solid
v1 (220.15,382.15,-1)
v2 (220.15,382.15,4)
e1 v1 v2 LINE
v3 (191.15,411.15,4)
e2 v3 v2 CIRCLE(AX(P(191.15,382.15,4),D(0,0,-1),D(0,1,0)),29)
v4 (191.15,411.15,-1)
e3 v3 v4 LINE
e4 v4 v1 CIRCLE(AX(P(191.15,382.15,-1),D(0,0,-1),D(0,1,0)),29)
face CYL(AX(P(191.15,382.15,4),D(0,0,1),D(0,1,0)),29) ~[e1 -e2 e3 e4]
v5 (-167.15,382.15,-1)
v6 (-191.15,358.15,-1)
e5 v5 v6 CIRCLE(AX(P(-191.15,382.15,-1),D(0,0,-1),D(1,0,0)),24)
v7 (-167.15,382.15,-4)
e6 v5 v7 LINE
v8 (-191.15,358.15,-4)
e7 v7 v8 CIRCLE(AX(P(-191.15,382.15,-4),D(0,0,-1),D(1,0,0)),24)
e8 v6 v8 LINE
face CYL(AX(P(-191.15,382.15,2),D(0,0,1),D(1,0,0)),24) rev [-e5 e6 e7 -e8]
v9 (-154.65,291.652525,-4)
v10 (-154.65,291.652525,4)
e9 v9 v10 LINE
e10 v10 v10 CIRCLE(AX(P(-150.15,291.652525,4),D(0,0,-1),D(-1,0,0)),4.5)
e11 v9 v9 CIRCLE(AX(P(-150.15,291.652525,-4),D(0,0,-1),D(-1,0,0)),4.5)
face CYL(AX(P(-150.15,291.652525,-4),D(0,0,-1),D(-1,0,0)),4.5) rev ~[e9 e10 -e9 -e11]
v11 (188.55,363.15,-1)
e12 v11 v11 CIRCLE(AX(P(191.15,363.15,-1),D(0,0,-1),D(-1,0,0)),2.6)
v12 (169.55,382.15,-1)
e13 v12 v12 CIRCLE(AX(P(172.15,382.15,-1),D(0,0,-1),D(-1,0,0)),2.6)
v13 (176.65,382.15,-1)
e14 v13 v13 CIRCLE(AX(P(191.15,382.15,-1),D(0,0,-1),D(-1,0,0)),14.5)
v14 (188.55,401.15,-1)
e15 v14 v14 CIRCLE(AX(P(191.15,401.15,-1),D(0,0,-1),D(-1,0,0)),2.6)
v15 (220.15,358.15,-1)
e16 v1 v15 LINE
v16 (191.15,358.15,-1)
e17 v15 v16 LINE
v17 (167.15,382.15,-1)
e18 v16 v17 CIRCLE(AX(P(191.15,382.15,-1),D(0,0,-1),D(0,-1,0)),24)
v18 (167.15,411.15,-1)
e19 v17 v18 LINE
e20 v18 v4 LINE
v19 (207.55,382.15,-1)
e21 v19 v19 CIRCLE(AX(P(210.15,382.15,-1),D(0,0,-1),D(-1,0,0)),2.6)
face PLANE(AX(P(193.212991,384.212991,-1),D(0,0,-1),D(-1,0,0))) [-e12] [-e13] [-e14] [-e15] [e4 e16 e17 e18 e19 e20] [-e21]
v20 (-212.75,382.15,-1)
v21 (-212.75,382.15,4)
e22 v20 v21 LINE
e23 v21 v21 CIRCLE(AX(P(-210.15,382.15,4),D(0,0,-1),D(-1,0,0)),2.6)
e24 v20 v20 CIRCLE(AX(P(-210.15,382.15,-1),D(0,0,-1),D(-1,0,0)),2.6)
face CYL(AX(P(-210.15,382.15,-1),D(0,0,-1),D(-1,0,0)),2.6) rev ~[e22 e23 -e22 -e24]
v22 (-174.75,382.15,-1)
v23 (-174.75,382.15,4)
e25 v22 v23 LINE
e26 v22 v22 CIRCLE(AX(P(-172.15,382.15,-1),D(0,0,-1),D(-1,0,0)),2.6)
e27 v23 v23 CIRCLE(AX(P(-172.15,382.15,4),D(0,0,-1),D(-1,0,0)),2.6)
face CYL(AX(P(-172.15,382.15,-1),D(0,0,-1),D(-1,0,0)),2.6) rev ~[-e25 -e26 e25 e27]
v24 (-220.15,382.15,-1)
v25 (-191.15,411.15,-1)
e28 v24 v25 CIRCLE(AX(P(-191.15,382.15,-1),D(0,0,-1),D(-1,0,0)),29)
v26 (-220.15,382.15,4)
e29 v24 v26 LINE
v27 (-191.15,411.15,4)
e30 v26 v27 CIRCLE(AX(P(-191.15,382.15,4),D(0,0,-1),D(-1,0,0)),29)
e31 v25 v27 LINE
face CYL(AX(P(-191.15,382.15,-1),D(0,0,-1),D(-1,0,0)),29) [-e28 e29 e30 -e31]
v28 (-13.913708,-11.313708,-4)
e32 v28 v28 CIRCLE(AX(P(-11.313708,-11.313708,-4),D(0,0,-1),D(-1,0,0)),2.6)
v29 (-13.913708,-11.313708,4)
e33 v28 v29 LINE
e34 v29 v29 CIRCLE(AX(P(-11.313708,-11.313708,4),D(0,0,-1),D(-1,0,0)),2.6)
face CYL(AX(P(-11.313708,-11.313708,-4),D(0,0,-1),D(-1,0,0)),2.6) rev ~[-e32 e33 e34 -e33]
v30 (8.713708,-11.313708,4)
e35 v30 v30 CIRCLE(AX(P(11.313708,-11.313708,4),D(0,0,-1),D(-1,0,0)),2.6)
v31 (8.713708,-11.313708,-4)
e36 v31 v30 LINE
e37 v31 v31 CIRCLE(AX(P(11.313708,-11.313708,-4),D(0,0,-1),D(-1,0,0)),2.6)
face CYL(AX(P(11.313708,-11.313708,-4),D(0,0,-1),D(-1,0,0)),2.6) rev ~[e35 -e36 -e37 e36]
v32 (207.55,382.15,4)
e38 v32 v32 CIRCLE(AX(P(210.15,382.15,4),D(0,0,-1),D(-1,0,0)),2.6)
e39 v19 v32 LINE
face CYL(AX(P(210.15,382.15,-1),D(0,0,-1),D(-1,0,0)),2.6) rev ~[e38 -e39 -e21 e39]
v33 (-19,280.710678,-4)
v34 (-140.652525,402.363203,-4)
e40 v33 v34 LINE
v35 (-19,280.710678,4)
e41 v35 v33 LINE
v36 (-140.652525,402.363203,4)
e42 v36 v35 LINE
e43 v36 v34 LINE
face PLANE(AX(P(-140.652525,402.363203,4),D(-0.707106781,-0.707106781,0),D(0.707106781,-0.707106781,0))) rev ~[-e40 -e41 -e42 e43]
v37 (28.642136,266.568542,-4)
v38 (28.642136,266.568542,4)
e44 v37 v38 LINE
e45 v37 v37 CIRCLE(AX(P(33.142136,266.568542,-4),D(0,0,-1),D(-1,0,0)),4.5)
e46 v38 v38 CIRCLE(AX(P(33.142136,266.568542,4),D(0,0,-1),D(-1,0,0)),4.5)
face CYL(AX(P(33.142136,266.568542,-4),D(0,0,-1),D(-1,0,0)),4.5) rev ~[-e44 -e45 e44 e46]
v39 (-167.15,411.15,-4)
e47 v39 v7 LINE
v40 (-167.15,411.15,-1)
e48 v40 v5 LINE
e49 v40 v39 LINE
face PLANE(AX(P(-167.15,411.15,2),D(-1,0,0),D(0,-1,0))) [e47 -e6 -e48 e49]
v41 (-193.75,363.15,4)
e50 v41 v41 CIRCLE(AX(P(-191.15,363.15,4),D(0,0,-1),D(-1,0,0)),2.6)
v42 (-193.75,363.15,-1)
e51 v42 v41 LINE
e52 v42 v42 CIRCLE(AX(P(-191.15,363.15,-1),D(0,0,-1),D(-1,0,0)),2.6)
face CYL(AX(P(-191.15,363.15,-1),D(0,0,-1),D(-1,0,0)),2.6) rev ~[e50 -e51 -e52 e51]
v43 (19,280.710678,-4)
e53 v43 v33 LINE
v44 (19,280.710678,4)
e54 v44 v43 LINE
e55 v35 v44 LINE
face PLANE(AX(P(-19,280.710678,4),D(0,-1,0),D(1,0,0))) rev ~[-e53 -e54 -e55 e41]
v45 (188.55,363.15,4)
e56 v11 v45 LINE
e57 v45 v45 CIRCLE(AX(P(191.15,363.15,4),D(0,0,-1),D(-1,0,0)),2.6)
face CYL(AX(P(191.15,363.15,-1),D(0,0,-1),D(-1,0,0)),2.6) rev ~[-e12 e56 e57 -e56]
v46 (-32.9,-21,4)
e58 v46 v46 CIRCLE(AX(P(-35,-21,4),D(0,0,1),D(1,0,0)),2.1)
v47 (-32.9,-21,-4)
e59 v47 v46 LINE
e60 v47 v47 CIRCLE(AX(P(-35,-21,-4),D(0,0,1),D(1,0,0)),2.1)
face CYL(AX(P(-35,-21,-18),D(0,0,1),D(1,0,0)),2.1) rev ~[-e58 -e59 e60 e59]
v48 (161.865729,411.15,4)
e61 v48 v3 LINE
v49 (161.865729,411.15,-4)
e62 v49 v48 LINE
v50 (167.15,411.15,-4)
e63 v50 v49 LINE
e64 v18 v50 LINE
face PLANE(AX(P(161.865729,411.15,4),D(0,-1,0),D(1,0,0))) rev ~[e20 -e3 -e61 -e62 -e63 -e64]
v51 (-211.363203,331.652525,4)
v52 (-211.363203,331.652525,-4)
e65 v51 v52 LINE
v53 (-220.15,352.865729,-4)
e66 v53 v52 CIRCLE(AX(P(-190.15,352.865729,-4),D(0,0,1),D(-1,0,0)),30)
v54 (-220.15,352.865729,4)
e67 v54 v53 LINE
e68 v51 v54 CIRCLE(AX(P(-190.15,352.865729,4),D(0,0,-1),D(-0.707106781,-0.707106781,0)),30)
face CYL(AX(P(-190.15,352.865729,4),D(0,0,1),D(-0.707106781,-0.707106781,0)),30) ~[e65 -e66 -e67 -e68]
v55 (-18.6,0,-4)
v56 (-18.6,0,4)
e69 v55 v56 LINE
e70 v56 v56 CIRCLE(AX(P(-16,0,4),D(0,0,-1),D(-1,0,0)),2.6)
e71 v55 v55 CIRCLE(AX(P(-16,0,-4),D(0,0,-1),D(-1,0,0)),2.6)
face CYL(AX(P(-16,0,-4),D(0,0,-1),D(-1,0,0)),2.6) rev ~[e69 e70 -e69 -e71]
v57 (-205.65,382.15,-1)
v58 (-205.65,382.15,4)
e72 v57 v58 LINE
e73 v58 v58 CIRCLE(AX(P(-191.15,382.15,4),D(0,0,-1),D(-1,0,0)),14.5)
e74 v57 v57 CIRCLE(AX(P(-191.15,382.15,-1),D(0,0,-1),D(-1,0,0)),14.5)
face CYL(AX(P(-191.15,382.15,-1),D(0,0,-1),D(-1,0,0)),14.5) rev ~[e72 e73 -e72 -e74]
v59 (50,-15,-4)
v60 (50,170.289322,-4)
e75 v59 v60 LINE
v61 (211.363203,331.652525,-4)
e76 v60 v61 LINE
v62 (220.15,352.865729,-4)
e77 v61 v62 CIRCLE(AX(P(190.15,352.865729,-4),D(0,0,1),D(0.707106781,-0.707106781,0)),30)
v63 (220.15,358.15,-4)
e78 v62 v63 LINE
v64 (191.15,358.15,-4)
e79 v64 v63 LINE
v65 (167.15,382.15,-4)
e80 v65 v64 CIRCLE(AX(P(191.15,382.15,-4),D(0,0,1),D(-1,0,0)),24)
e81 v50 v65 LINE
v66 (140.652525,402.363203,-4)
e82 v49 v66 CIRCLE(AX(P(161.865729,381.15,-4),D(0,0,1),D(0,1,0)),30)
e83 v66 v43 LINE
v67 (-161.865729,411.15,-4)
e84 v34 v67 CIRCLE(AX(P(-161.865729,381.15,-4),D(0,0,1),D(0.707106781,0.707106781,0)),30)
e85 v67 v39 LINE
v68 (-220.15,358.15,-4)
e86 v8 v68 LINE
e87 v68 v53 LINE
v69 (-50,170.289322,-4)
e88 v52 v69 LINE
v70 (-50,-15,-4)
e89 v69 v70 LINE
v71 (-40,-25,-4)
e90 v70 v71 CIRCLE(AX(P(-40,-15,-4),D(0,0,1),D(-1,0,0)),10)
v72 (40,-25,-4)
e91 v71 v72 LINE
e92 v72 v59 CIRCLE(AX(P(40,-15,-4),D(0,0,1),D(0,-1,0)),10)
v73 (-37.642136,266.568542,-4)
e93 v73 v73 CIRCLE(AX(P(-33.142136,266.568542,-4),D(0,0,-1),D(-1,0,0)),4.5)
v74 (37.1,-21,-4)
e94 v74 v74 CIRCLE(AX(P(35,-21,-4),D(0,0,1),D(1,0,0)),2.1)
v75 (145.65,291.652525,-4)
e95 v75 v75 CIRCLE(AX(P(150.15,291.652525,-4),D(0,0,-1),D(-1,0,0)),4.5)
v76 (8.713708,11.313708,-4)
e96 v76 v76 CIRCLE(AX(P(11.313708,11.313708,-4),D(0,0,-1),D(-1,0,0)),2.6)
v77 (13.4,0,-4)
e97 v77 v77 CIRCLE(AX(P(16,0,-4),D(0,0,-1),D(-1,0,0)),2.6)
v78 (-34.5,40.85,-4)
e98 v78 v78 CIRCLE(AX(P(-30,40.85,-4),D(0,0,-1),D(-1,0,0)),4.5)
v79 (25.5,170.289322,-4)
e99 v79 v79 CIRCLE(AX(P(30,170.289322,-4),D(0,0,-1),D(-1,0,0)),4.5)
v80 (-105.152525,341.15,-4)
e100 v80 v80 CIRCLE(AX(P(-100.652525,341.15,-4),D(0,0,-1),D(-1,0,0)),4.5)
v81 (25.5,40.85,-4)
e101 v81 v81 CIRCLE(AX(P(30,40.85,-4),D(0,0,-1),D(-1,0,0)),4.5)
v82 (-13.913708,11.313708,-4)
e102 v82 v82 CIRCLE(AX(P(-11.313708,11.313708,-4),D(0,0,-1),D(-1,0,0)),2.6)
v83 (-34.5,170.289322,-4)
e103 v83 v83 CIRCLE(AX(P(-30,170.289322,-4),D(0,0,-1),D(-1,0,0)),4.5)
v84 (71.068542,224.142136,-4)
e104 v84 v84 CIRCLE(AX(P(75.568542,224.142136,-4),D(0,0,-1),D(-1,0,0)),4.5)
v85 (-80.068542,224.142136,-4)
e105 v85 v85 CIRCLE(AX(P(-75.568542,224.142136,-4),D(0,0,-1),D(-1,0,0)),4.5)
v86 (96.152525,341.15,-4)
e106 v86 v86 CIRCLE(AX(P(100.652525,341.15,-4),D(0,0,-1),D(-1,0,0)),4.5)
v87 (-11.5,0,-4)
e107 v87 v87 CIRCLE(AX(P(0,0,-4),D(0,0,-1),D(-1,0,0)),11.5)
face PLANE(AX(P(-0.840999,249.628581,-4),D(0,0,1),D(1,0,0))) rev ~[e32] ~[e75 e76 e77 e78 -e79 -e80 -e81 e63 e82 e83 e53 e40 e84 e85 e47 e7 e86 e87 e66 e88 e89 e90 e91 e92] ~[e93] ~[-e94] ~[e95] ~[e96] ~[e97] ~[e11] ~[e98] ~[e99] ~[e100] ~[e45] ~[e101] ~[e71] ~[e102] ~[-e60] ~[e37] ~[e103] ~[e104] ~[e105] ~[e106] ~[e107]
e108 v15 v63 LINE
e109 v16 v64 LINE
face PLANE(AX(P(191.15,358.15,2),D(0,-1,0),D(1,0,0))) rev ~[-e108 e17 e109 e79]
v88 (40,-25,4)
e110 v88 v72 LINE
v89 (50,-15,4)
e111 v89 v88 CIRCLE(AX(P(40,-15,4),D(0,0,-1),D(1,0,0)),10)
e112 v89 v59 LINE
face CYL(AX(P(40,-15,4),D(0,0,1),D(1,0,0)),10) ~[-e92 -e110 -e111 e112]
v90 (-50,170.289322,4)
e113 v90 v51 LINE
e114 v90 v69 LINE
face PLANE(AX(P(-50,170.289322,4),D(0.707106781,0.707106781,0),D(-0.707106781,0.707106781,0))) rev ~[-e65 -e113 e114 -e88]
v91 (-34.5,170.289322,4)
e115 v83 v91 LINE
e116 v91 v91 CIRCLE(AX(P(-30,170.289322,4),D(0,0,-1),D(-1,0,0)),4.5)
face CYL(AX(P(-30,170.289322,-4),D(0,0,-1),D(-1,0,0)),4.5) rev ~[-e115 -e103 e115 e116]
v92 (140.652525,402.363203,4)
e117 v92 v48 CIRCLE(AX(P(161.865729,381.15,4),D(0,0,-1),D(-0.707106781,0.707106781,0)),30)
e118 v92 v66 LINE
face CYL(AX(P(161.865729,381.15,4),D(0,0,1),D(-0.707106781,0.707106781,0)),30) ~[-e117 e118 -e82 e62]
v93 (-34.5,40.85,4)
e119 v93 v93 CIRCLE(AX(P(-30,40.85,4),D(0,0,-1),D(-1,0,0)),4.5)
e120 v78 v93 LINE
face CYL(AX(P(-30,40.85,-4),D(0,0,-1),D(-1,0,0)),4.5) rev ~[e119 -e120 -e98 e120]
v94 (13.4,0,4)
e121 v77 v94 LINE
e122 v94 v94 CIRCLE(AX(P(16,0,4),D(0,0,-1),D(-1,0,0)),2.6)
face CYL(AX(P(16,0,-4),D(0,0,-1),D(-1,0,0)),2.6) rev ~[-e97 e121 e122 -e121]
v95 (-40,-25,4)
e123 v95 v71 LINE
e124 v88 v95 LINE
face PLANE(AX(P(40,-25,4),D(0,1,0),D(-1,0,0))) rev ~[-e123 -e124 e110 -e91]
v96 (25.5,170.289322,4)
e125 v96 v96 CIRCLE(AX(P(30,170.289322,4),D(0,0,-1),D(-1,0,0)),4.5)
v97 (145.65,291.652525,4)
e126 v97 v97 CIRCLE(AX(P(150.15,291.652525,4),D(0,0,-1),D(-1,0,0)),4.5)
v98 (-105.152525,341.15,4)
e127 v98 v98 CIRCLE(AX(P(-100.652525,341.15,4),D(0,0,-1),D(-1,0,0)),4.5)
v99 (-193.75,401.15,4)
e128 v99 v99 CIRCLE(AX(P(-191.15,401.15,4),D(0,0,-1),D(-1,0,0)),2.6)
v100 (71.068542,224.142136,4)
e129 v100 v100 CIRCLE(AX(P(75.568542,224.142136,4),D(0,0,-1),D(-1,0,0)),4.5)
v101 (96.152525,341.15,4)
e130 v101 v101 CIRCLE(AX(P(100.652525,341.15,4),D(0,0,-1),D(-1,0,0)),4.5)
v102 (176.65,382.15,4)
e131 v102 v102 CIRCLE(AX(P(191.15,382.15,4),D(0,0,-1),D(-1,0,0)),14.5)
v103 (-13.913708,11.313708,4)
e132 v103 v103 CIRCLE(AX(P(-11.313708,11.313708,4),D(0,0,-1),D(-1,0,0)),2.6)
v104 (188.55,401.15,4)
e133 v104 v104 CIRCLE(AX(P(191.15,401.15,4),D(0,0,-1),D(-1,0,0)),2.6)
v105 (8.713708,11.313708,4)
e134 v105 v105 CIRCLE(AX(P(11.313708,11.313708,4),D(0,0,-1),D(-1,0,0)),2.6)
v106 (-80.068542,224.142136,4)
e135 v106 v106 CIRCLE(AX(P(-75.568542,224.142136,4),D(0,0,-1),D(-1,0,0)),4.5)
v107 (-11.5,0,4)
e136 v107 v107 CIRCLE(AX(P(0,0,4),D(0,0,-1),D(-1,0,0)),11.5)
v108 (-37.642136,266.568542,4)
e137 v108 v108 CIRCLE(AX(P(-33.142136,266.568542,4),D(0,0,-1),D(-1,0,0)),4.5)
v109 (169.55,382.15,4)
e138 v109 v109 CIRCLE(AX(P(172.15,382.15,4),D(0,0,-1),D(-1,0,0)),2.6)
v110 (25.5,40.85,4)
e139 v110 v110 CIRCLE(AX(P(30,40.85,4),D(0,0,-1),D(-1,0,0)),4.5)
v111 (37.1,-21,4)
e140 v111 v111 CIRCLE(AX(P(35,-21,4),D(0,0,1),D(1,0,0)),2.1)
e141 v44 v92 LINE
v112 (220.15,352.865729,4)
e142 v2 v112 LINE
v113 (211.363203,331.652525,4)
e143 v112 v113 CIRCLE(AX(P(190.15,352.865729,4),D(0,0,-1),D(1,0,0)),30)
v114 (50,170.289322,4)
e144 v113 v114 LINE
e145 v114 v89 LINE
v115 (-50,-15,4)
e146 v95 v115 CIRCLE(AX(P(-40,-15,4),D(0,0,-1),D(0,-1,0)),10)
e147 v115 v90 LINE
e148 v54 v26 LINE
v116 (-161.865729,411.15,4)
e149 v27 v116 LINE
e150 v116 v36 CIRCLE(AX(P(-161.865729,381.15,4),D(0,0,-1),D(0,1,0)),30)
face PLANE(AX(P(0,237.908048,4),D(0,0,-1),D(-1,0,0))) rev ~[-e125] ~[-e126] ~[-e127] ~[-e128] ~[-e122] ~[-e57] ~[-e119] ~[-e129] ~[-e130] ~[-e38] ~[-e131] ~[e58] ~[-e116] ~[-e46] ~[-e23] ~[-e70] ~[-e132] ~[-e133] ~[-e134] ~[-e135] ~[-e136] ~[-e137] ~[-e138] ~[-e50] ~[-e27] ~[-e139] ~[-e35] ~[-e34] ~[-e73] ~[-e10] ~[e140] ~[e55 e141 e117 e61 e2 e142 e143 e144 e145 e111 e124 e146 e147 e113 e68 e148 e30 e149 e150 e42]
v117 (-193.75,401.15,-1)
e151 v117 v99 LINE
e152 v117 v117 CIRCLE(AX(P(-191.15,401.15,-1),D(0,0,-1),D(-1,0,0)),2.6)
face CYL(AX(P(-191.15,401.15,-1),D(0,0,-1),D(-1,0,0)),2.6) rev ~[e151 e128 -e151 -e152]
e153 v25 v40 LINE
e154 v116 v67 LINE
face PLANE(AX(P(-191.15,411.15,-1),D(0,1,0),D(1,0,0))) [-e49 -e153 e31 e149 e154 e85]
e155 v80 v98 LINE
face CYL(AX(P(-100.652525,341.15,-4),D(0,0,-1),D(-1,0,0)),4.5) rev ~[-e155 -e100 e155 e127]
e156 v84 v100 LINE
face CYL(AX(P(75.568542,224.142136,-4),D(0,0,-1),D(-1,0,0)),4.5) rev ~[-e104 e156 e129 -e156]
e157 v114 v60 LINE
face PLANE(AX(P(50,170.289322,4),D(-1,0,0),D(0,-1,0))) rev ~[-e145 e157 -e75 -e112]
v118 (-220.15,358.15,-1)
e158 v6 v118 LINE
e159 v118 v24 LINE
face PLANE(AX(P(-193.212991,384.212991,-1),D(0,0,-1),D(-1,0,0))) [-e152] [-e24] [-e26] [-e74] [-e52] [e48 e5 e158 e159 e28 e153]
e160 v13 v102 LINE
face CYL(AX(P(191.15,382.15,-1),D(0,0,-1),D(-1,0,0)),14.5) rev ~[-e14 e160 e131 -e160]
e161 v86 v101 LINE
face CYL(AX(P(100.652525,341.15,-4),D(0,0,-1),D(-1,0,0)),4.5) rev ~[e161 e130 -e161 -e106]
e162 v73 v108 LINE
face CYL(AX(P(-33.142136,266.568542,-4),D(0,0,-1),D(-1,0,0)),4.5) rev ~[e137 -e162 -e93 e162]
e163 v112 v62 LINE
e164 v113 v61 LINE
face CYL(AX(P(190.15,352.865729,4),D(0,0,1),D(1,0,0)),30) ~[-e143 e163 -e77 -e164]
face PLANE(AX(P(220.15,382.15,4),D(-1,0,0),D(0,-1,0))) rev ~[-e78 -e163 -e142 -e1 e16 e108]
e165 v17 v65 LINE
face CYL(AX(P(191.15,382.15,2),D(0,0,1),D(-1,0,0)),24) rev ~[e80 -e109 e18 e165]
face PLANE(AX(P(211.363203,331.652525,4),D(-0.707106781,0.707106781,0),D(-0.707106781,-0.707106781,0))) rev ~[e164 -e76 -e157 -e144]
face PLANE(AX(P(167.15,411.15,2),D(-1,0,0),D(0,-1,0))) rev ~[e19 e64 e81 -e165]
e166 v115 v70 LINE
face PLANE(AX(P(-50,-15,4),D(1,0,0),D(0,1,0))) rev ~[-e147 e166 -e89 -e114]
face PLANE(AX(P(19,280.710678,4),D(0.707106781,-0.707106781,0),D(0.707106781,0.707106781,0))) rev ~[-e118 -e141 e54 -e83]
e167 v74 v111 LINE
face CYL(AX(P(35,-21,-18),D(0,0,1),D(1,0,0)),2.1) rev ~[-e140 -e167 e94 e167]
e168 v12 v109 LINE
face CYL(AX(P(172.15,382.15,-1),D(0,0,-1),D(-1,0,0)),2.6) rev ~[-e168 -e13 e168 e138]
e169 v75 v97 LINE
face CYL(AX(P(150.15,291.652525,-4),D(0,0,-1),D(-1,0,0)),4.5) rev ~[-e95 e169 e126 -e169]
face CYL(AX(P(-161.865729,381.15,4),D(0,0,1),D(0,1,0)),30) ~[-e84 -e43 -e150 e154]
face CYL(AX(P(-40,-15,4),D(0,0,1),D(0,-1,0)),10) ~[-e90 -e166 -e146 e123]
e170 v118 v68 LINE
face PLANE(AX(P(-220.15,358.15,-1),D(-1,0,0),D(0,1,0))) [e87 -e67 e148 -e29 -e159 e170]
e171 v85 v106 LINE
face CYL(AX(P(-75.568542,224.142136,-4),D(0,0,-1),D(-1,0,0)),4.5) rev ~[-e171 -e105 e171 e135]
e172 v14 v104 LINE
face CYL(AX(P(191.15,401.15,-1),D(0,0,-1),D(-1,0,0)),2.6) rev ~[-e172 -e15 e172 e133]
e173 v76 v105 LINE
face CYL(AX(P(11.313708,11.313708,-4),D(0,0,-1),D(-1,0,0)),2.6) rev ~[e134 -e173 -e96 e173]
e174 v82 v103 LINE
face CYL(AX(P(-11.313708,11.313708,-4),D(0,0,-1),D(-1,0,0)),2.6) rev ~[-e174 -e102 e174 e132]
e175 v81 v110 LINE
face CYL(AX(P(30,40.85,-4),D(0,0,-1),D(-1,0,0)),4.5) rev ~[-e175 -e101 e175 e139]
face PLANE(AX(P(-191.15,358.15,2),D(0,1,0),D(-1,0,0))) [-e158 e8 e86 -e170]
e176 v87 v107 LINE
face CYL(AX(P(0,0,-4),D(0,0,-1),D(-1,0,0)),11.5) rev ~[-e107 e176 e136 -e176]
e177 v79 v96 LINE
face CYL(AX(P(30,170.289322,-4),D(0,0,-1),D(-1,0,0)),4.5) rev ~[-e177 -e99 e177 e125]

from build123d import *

# Parameters (mm, degrees)
ESQUISSE1_R               = 29
BOSS_EXTRU_1_DEPTH        = 4
ENL_V_START               = -6
ENL_V_MAT_EXTRU_1_DEPTH   = 6
BOSS_EXTRU_3_START        = 4
BOSS_EXTRU_3_DEPTH        = 4
ESQUISSE8_R               = 11
ESQUISSE8_R_2             = 14
ENL_V_MAT_EXTRU_2_DEPTH   = 12
ESQUISSE9_R               = 2.5
ENL_V_MAT_EXTRU_3_DEPTH   = 20
ESQUISSE10_R              = 2.5
ENL_V_MAT_EXTRU_4_DEPTH   = 12
ESQUISSE11_R              = 4.5
ENL_V_MAT_EXTRU_5_DEPTH   = 14
TROU_TARAUD_M5X0_81_D     = 4.2
TROU_TARAUD_M5X0_81_DEPTH = 14
TROU_TARAUD_M5X0_81_TIP   = 1.2618073
ESQUISSE14_R              = 2.5
ESQUISSE14_R_2            = 11
BOSS_EXTRU_4_DEPTH        = 4
BOSS_EXTRU_5_START        = 1
ESQUISSE15_R              = 2.5
ESQUISSE15_R_2            = 14
BOSS_EXTRU_5_DEPTH        = 1
ESQUISSE16_R              = 14.5
ESQUISSE16_R_2            = 14
ESQUISSE16_R_3            = 2.6
ESQUISSE16_R_4            = 2.5
ENL_V_MAT_EXTRU_6_DEPTH   = 10
ESQUISSE17_R              = 2.6
ESQUISSE17_R_2            = 2.5
ESQUISSE17_R_3            = 11.5
ESQUISSE17_R_4            = 11
ENL_V_MAT_EXTRU_7_DEPTH   = 10


with BuildPart() as part:
    # Esquisse1 → Boss.-Extru.1 (new body)
    with BuildSketch(Plane.XY):
        with BuildLine():
            Line((-40, -25), (40, -25))
            ThreePointArc((40, -25), (47.071067812, -22.071067812), (50, -15))
            Line((50, -15), (50, 170.289321881))
            Line((50, 170.289321881), (211.363203436, 331.652525317))
            ThreePointArc((211.363203436, 331.652525317), (217.866385975, 341.385225782), (220.15, 352.865728753))
            Line((220.15, 352.865728753), (220.15, 382.15))
            ThreePointArc((220.15, 382.15), (170.643903346, 361.643903346), (191.15, 411.15))
            Line((191.15, 411.15), (161.865728753, 411.15))
            ThreePointArc((161.865728753, 411.15), (150.385225782, 408.866385975), (140.652525317, 402.363203436))
            Line((140.652525317, 402.363203436), (19, 280.710678119))
            Line((19, 280.710678119), (-19, 280.710678119))
            Line((-19, 280.710678119), (-140.652525317, 402.363203436))
            ThreePointArc((-140.652525317, 402.363203436), (-150.385225782, 408.866385975), (-161.865728753, 411.15))
            Line((-161.865728753, 411.15), (-191.15, 411.15))
            ThreePointArc((-191.15, 411.15), (-170.643903346, 402.656096654), (-162.15, 382.15))
            ThreePointArc((-162.15, 382.15), (-191.15, 353.15), (-220.15, 382.15))
            Line((-220.15, 382.15), (-220.15, 352.865728753))
            ThreePointArc((-220.15, 352.865728753), (-217.866385975, 341.385225782), (-211.363203436, 331.652525317))
            Line((-211.363203436, 331.652525317), (-50, 170.289321881))
            Line((-50, 170.289321881), (-50, -15))
            ThreePointArc((-50, -15), (-47.071067812, -22.071067812), (-40, -25))
        make_face()
        with Locations((191.15, 382.15)):
            Circle(ESQUISSE1_R)
        with Locations((-191.15, 382.15)):
            Circle(ESQUISSE1_R)
    extrude(amount=-BOSS_EXTRU_1_DEPTH)

    # Esquisse4 → Enlèv. mat.-Extru.1 (cut)
    with BuildSketch(Plane(origin=(0, 0, -4), x_dir=(-1, 0, 0), z_dir=(0, 0, -1)).offset(ENL_V_START)):
        with BuildLine():
            Line((-14.875216904, -15), (14.875216904, -15))
            ThreePointArc((14.875216904, -15), (14.990842441, -14.97682257), (15.088601959, -14.910871568))
            ThreePointArc((15.088601959, -14.910871568), (21.213203436, 0), (15.088601959, 14.910871568))
            ThreePointArc((15.088601959, 14.910871568), (14.990842441, 14.97682257), (14.875216904, 15))
            Line((14.875216904, 15), (-14.875216904, 15))
            ThreePointArc((-14.875216904, 15), (-14.990842441, 14.97682257), (-15.088601959, 14.910871568))
            ThreePointArc((-15.088601959, 14.910871568), (-21.213203436, 0), (-15.088601959, -14.910871568))
            ThreePointArc((-15.088601959, -14.910871568), (-14.990842441, -14.97682257), (-14.875216904, -15))
        make_face()
        with BuildLine():
            Line((-191.15, 358.15), (-220.15, 358.15))
            Line((-220.15, 358.15), (-220.15, 382.15))
            ThreePointArc((-220.15, 382.15), (-211.656096654, 402.656096654), (-191.15, 411.15))
            Line((-191.15, 411.15), (-167.15, 411.15))
            Line((-167.15, 411.15), (-167.15, 382.15))
            ThreePointArc((-167.15, 382.15), (-174.179437252, 365.179437252), (-191.15, 358.15))
        make_face()
        with BuildLine():
            Line((191.15, 358.15), (220.15, 358.15))
            Line((220.15, 358.15), (220.15, 382.15))
            ThreePointArc((220.15, 382.15), (211.656096654, 402.656096654), (191.15, 411.15))
            Line((191.15, 411.15), (167.15, 411.15))
            Line((167.15, 411.15), (167.15, 382.15))
            ThreePointArc((167.15, 382.15), (174.179437252, 365.179437252), (191.15, 358.15))
        make_face()
    extrude(amount=ENL_V_MAT_EXTRU_1_DEPTH, mode=Mode.SUBTRACT)

    # Esquisse7 → Boss.-Extru.3 (add)
    with BuildSketch(Plane.XY.offset(BOSS_EXTRU_3_START)):
        with BuildLine():
            Line((220.15, 382.15), (220.15, 352.865728753))
            ThreePointArc((220.15, 352.865728753), (217.866385975, 341.385225782), (211.363203436, 331.652525317))
            Line((211.363203436, 331.652525317), (50, 170.289321881))
            Line((50, 170.289321881), (50, -15))
            ThreePointArc((50, -15), (47.071067812, -22.071067812), (40, -25))
            Line((40, -25), (-40, -25))
            ThreePointArc((-40, -25), (-47.071067812, -22.071067812), (-50, -15))
            Line((-50, -15), (-50, 170.289321881))
            Line((-50, 170.289321881), (-211.363203436, 331.652525317))
            ThreePointArc((-211.363203436, 331.652525317), (-217.866385975, 341.385225782), (-220.15, 352.865728753))
            Line((-220.15, 352.865728753), (-220.15, 382.15))
            ThreePointArc((-220.15, 382.15), (-211.656096654, 402.656096654), (-191.15, 411.15))
            Line((-191.15, 411.15), (-161.865728753, 411.15))
            ThreePointArc((-161.865728753, 411.15), (-150.385225782, 408.866385975), (-140.652525317, 402.363203436))
            Line((-140.652525317, 402.363203436), (-19, 280.710678119))
            Line((-19, 280.710678119), (19, 280.710678119))
            Line((19, 280.710678119), (140.652525317, 402.363203436))
            ThreePointArc((140.652525317, 402.363203436), (150.385225782, 408.866385975), (161.865728753, 411.15))
            Line((161.865728753, 411.15), (191.15, 411.15))
            ThreePointArc((191.15, 411.15), (211.656096654, 402.656096654), (220.15, 382.15))
        make_face()
    extrude(amount=-BOSS_EXTRU_3_DEPTH)

    # Esquisse8 → Enlèv. mat.-Extru.2 (cut)
    with BuildSketch(Plane(origin=(0, 0, -4), x_dir=(-1, 0, 0), z_dir=(0, 0, -1))):
        with Locations(Location((0, 0, 0), (0, 0, 180))):
            Circle(ESQUISSE8_R)
        with Locations(Location((191.15, 382.15, 0), (0, 0, 180))):
            Circle(ESQUISSE8_R_2)
        with Locations(Location((-191.15, 382.15, 0), (0, 0, 180))):
            Circle(ESQUISSE8_R_2)
    extrude(amount=-ENL_V_MAT_EXTRU_2_DEPTH, mode=Mode.SUBTRACT)

    # Esquisse9 → Enlèv. mat.-Extru.3 (cut)
    with BuildSketch(Plane(origin=(0, 0, -4), x_dir=(-1, 0, 0), z_dir=(0, 0, -1))):
        with Locations(Location((191.15, 401.15, 0), (0, 0, 180))):
            Circle(ESQUISSE9_R)
        with Locations(Location((210.15, 382.15, 0), (0, 0, 180))):
            Circle(ESQUISSE9_R)
        with Locations(Location((191.15, 363.15, 0), (0, 0, 180))):
            Circle(ESQUISSE9_R)
        with Locations(Location((172.15, 382.15, 0), (0, 0, 180))):
            Circle(ESQUISSE9_R)
        with Locations(Location((-191.15, 401.15, 0), (0, 0, 180))):
            Circle(ESQUISSE9_R)
        with Locations(Location((-172.15, 382.15, 0), (0, 0, 180))):
            Circle(ESQUISSE9_R)
        with Locations(Location((-191.15, 363.15, 0), (0, 0, 180))):
            Circle(ESQUISSE9_R)
        with Locations(Location((-210.15, 382.15, 0), (0, 0, 180))):
            Circle(ESQUISSE9_R)
    extrude(amount=-ENL_V_MAT_EXTRU_3_DEPTH, mode=Mode.SUBTRACT)

    # Esquisse10 → Enlèv. mat.-Extru.4 (cut)
    with BuildSketch(Plane(origin=(0, 0, -4), x_dir=(-1, 0, 0), z_dir=(0, 0, -1))):
        with Locations(Location((-11.313708499, -11.313708499, 0), (0, 0, 180))):
            Circle(ESQUISSE10_R)
        with Locations(Location((16, 0, 0), (0, 0, 180))):
            Circle(ESQUISSE10_R)
        with Locations(Location((11.313708499, 11.313708499, 0), (0, 0, 180))):
            Circle(ESQUISSE10_R)
        with Locations(Location((-16, 0, 0), (0, 0, 180))):
            Circle(ESQUISSE10_R)
        with Locations(Location((11.313708499, -11.313708499, 0), (0, 0, 180))):
            Circle(ESQUISSE10_R)
        with Locations(Location((-11.313708499, 11.313708499, 0), (0, 0, 180))):
            Circle(ESQUISSE10_R)
    extrude(amount=-ENL_V_MAT_EXTRU_4_DEPTH, mode=Mode.SUBTRACT)

    # Esquisse11 → Enlèv. mat.-Extru.5 (cut)
    with BuildSketch(Plane(origin=(0, 0, -4), x_dir=(-1, 0, 0), z_dir=(0, 0, -1))):
        with Locations((100.652525317, 341.15)):
            Circle(ESQUISSE11_R)
        with Locations((150.15, 291.652525317)):
            Circle(ESQUISSE11_R)
        with Locations((30, 40.85)):
            Circle(ESQUISSE11_R)
        with Locations((-30, 40.85)):
            Circle(ESQUISSE11_R)
        with Locations((75.568542495, 224.142135624)):
            Circle(ESQUISSE11_R)
        with Locations((30, 170.289321881)):
            Circle(ESQUISSE11_R)
        with Locations((-30, 170.289321881)):
            Circle(ESQUISSE11_R)
        with Locations((-75.568542495, 224.142135624)):
            Circle(ESQUISSE11_R)
        with Locations((-33.142135624, 266.568542495)):
            Circle(ESQUISSE11_R)
        with Locations((33.142135624, 266.568542495)):
            Circle(ESQUISSE11_R)
        with Locations((-150.15, 291.652525317)):
            Circle(ESQUISSE11_R)
        with Locations((-100.652525317, 341.15)):
            Circle(ESQUISSE11_R)
    extrude(amount=-ENL_V_MAT_EXTRU_5_DEPTH, mode=Mode.SUBTRACT)

    # Trou taraudé M5x0.81
    with Locations(Plane(origin=(0, 0, -4), x_dir=(-1, 0, 0), z_dir=(0, 0, -1))):
        with Locations((35, -21), (-35, -21)):
            Hole(TROU_TARAUD_M5X0_81_D / 2, depth=TROU_TARAUD_M5X0_81_DEPTH)
            with Locations((0, 0, -(TROU_TARAUD_M5X0_81_DEPTH + TROU_TARAUD_M5X0_81_TIP / 2))):  # 118° drill point
                Cone(0, TROU_TARAUD_M5X0_81_D / 2, TROU_TARAUD_M5X0_81_TIP, mode=Mode.SUBTRACT)

    # Esquisse14 → Boss.-Extru.4 (add)
    with BuildSketch(Plane(origin=(0, 0, 0), x_dir=(-1, 0, 0), z_dir=(0, 0, -1))):
        with BuildLine():
            Line((-14.875216904, -15), (14.875216904, -15))
            ThreePointArc((14.875216904, -15), (14.990842441, -14.97682257), (15.088601959, -14.910871568))
            ThreePointArc((15.088601959, -14.910871568), (21.213203436, 0), (15.088601959, 14.910871568))
            ThreePointArc((15.088601959, 14.910871568), (14.990842441, 14.97682257), (14.875216904, 15))
            Line((14.875216904, 15), (-14.875216904, 15))
            ThreePointArc((-14.875216904, 15), (-14.990842441, 14.97682257), (-15.088601959, 14.910871568))
            ThreePointArc((-15.088601959, 14.910871568), (-21.213203436, 0), (-15.088601959, -14.910871568))
            ThreePointArc((-15.088601959, -14.910871568), (-14.990842441, -14.97682257), (-14.875216904, -15))
        make_face()
        with Locations(Location((11.313708499, -11.313708499, 0), (0, 0, 180))):
            Circle(ESQUISSE14_R, mode=Mode.SUBTRACT)
        with Locations(Location((-11.313708499, -11.313708499, 0), (0, 0, 180))):
            Circle(ESQUISSE14_R, mode=Mode.SUBTRACT)
        with Locations(Location((-16, 0, 0), (0, 0, 180))):
            Circle(ESQUISSE14_R, mode=Mode.SUBTRACT)
        with Locations(Location((-11.313708499, 11.313708499, 0), (0, 0, 180))):
            Circle(ESQUISSE14_R, mode=Mode.SUBTRACT)
        with Locations(Location((11.313708499, 11.313708499, 0), (0, 0, 180))):
            Circle(ESQUISSE14_R, mode=Mode.SUBTRACT)
        with Locations(Location((16, 0, 0), (0, 0, 180))):
            Circle(ESQUISSE14_R, mode=Mode.SUBTRACT)
        with Locations(Location((0, 0, 0), (0, 0, 180))):
            Circle(ESQUISSE14_R_2, mode=Mode.SUBTRACT)
    extrude(amount=BOSS_EXTRU_4_DEPTH)

    # Esquisse15 → Boss.-Extru.5 (add)
    # profile 1 of 2: a face of its own
    with BuildSketch(Plane(origin=(0, 0, 0), x_dir=(-1, 0, 0), z_dir=(0, 0, -1)).offset(BOSS_EXTRU_5_START)):
        with BuildLine():
            Line((191.15, 411.15), (167.15, 411.15))
            Line((167.15, 411.15), (167.15, 382.15))
            ThreePointArc((167.15, 382.15), (174.179437252, 365.179437252), (191.15, 358.15))
            Line((191.15, 358.15), (220.15, 358.15))
            Line((220.15, 358.15), (220.15, 382.15))
            ThreePointArc((220.15, 382.15), (211.656096654, 402.656096654), (191.15, 411.15))
        make_face()
        with Locations((172.15, 382.15)):
            Circle(ESQUISSE15_R, mode=Mode.SUBTRACT)
        with Locations((210.15, 382.15)):
            Circle(ESQUISSE15_R, mode=Mode.SUBTRACT)
        with Locations((191.15, 363.15)):
            Circle(ESQUISSE15_R, mode=Mode.SUBTRACT)
        with Locations((191.15, 401.15)):
            Circle(ESQUISSE15_R, mode=Mode.SUBTRACT)
        with Locations((191.15, 382.15)):
            Circle(ESQUISSE15_R_2, mode=Mode.SUBTRACT)
    # profile 2 of 2: a face of its own
    with BuildSketch(Plane(origin=(0, 0, 0), x_dir=(-1, 0, 0), z_dir=(0, 0, -1)).offset(BOSS_EXTRU_5_START)):
        with BuildLine():
            Line((-220.15, 382.15), (-220.15, 358.15))
            Line((-220.15, 358.15), (-191.15, 358.15))
            ThreePointArc((-191.15, 358.15), (-174.179437252, 365.179437252), (-167.15, 382.15))
            Line((-167.15, 382.15), (-167.15, 411.15))
            Line((-167.15, 411.15), (-191.15, 411.15))
            ThreePointArc((-191.15, 411.15), (-211.656096654, 402.656096654), (-220.15, 382.15))
        make_face()
        with Locations((-191.15, 401.15)):
            Circle(ESQUISSE15_R, mode=Mode.SUBTRACT)
        with Locations((-172.15, 382.15)):
            Circle(ESQUISSE15_R, mode=Mode.SUBTRACT)
        with Locations((-191.15, 363.15)):
            Circle(ESQUISSE15_R, mode=Mode.SUBTRACT)
        with Locations((-210.15, 382.15)):
            Circle(ESQUISSE15_R, mode=Mode.SUBTRACT)
        with Locations((-191.15, 382.15)):
            Circle(ESQUISSE15_R_2, mode=Mode.SUBTRACT)
    extrude(amount=-BOSS_EXTRU_5_DEPTH)

    # Esquisse16 → Enlèv. mat.-Extru.6 (cut)
    # profile 1 of 10: a face of its own
    with BuildSketch(Plane(origin=(0, 0, -1), x_dir=(-1, 0, 0), z_dir=(0, 0, -1))):
        with Locations((-191.15, 382.15)):
            Circle(ESQUISSE16_R)
        with Locations((-191.15, 382.15)):
            Circle(ESQUISSE16_R_2, mode=Mode.SUBTRACT)
    # profile 2 of 10: a face of its own
    with BuildSketch(Plane(origin=(0, 0, -1), x_dir=(-1, 0, 0), z_dir=(0, 0, -1))):
        with Locations((191.15, 382.15)):
            Circle(ESQUISSE16_R)
        with Locations((191.15, 382.15)):
            Circle(ESQUISSE16_R_2, mode=Mode.SUBTRACT)
    # profile 3 of 10: a face of its own
    with BuildSketch(Plane(origin=(0, 0, -1), x_dir=(-1, 0, 0), z_dir=(0, 0, -1))):
        with Locations((-191.15, 401.15)):
            Circle(ESQUISSE16_R_3)
        with Locations((-191.15, 401.15)):
            Circle(ESQUISSE16_R_4, mode=Mode.SUBTRACT)
    # profile 4 of 10: a face of its own
    with BuildSketch(Plane(origin=(0, 0, -1), x_dir=(-1, 0, 0), z_dir=(0, 0, -1))):
        with Locations((-172.15, 382.15)):
            Circle(ESQUISSE16_R_3)
        with Locations((-172.15, 382.15)):
            Circle(ESQUISSE16_R_4, mode=Mode.SUBTRACT)
    # profile 5 of 10: a face of its own
    with BuildSketch(Plane(origin=(0, 0, -1), x_dir=(-1, 0, 0), z_dir=(0, 0, -1))):
        with Locations((-210.15, 382.15)):
            Circle(ESQUISSE16_R_3)
        with Locations((-210.15, 382.15)):
            Circle(ESQUISSE16_R_4, mode=Mode.SUBTRACT)
    # profile 6 of 10: a face of its own
    with BuildSketch(Plane(origin=(0, 0, -1), x_dir=(-1, 0, 0), z_dir=(0, 0, -1))):
        with Locations((-191.15, 363.15)):
            Circle(ESQUISSE16_R_3)
        with Locations((-191.15, 363.15)):
            Circle(ESQUISSE16_R_4, mode=Mode.SUBTRACT)
    # profile 7 of 10: a face of its own
    with BuildSketch(Plane(origin=(0, 0, -1), x_dir=(-1, 0, 0), z_dir=(0, 0, -1))):
        with Locations((191.15, 401.15)):
            Circle(ESQUISSE16_R_3)
        with Locations((191.15, 401.15)):
            Circle(ESQUISSE16_R_4, mode=Mode.SUBTRACT)
    # profile 8 of 10: a face of its own
    with BuildSketch(Plane(origin=(0, 0, -1), x_dir=(-1, 0, 0), z_dir=(0, 0, -1))):
        with Locations((210.15, 382.15)):
            Circle(ESQUISSE16_R_3)
        with Locations((210.15, 382.15)):
            Circle(ESQUISSE16_R_4, mode=Mode.SUBTRACT)
    # profile 9 of 10: a face of its own
    with BuildSketch(Plane(origin=(0, 0, -1), x_dir=(-1, 0, 0), z_dir=(0, 0, -1))):
        with Locations((172.15, 382.15)):
            Circle(ESQUISSE16_R_3)
        with Locations((172.15, 382.15)):
            Circle(ESQUISSE16_R_4, mode=Mode.SUBTRACT)
    # profile 10 of 10: a face of its own
    with BuildSketch(Plane(origin=(0, 0, -1), x_dir=(-1, 0, 0), z_dir=(0, 0, -1))):
        with Locations((191.15, 363.15)):
            Circle(ESQUISSE16_R_3)
        with Locations((191.15, 363.15)):
            Circle(ESQUISSE16_R_4, mode=Mode.SUBTRACT)
    extrude(amount=-ENL_V_MAT_EXTRU_6_DEPTH, mode=Mode.SUBTRACT)

    # Esquisse17 → Enlèv. mat.-Extru.7 (cut)
    # profile 1 of 7: a face of its own
    with BuildSketch(Plane(origin=(0, 0, -4), x_dir=(-1, 0, 0), z_dir=(0, 0, -1))):
        with Locations((-11.313708499, 11.313708499)):
            Circle(ESQUISSE17_R)
        with Locations((-11.313708499, 11.313708499)):
            Circle(ESQUISSE17_R_2, mode=Mode.SUBTRACT)
    # profile 2 of 7: a face of its own
    with BuildSketch(Plane(origin=(0, 0, -4), x_dir=(-1, 0, 0), z_dir=(0, 0, -1))):
        with Locations((-16, 0)):
            Circle(ESQUISSE17_R)
        with Locations((-16, 0)):
            Circle(ESQUISSE17_R_2, mode=Mode.SUBTRACT)
    # profile 3 of 7: a face of its own
    with BuildSketch(Plane(origin=(0, 0, -4), x_dir=(-1, 0, 0), z_dir=(0, 0, -1))):
        with Locations((-11.313708499, -11.313708499)):
            Circle(ESQUISSE17_R)
        with Locations((-11.313708499, -11.313708499)):
            Circle(ESQUISSE17_R_2, mode=Mode.SUBTRACT)
    # profile 4 of 7: a face of its own
    with BuildSketch(Plane(origin=(0, 0, -4), x_dir=(-1, 0, 0), z_dir=(0, 0, -1))):
        with Locations((11.313708499, -11.313708499)):
            Circle(ESQUISSE17_R)
        with Locations((11.313708499, -11.313708499)):
            Circle(ESQUISSE17_R_2, mode=Mode.SUBTRACT)
    # profile 5 of 7: a face of its own
    with BuildSketch(Plane(origin=(0, 0, -4), x_dir=(-1, 0, 0), z_dir=(0, 0, -1))):
        with Locations((16, 0)):
            Circle(ESQUISSE17_R)
        with Locations((16, 0)):
            Circle(ESQUISSE17_R_2, mode=Mode.SUBTRACT)
    # profile 6 of 7: a face of its own
    with BuildSketch(Plane(origin=(0, 0, -4), x_dir=(-1, 0, 0), z_dir=(0, 0, -1))):
        with Locations((11.313708499, 11.313708499)):
            Circle(ESQUISSE17_R)
        with Locations((11.313708499, 11.313708499)):
            Circle(ESQUISSE17_R_2, mode=Mode.SUBTRACT)
    # profile 7 of 7: a face of its own
    with BuildSketch(Plane(origin=(0, 0, -4), x_dir=(-1, 0, 0), z_dir=(0, 0, -1))):
        Circle(ESQUISSE17_R_3)
        Circle(ESQUISSE17_R_4, mode=Mode.SUBTRACT)
    extrude(amount=-ENL_V_MAT_EXTRU_7_DEPTH, mode=Mode.SUBTRACT)


solid = part.part
